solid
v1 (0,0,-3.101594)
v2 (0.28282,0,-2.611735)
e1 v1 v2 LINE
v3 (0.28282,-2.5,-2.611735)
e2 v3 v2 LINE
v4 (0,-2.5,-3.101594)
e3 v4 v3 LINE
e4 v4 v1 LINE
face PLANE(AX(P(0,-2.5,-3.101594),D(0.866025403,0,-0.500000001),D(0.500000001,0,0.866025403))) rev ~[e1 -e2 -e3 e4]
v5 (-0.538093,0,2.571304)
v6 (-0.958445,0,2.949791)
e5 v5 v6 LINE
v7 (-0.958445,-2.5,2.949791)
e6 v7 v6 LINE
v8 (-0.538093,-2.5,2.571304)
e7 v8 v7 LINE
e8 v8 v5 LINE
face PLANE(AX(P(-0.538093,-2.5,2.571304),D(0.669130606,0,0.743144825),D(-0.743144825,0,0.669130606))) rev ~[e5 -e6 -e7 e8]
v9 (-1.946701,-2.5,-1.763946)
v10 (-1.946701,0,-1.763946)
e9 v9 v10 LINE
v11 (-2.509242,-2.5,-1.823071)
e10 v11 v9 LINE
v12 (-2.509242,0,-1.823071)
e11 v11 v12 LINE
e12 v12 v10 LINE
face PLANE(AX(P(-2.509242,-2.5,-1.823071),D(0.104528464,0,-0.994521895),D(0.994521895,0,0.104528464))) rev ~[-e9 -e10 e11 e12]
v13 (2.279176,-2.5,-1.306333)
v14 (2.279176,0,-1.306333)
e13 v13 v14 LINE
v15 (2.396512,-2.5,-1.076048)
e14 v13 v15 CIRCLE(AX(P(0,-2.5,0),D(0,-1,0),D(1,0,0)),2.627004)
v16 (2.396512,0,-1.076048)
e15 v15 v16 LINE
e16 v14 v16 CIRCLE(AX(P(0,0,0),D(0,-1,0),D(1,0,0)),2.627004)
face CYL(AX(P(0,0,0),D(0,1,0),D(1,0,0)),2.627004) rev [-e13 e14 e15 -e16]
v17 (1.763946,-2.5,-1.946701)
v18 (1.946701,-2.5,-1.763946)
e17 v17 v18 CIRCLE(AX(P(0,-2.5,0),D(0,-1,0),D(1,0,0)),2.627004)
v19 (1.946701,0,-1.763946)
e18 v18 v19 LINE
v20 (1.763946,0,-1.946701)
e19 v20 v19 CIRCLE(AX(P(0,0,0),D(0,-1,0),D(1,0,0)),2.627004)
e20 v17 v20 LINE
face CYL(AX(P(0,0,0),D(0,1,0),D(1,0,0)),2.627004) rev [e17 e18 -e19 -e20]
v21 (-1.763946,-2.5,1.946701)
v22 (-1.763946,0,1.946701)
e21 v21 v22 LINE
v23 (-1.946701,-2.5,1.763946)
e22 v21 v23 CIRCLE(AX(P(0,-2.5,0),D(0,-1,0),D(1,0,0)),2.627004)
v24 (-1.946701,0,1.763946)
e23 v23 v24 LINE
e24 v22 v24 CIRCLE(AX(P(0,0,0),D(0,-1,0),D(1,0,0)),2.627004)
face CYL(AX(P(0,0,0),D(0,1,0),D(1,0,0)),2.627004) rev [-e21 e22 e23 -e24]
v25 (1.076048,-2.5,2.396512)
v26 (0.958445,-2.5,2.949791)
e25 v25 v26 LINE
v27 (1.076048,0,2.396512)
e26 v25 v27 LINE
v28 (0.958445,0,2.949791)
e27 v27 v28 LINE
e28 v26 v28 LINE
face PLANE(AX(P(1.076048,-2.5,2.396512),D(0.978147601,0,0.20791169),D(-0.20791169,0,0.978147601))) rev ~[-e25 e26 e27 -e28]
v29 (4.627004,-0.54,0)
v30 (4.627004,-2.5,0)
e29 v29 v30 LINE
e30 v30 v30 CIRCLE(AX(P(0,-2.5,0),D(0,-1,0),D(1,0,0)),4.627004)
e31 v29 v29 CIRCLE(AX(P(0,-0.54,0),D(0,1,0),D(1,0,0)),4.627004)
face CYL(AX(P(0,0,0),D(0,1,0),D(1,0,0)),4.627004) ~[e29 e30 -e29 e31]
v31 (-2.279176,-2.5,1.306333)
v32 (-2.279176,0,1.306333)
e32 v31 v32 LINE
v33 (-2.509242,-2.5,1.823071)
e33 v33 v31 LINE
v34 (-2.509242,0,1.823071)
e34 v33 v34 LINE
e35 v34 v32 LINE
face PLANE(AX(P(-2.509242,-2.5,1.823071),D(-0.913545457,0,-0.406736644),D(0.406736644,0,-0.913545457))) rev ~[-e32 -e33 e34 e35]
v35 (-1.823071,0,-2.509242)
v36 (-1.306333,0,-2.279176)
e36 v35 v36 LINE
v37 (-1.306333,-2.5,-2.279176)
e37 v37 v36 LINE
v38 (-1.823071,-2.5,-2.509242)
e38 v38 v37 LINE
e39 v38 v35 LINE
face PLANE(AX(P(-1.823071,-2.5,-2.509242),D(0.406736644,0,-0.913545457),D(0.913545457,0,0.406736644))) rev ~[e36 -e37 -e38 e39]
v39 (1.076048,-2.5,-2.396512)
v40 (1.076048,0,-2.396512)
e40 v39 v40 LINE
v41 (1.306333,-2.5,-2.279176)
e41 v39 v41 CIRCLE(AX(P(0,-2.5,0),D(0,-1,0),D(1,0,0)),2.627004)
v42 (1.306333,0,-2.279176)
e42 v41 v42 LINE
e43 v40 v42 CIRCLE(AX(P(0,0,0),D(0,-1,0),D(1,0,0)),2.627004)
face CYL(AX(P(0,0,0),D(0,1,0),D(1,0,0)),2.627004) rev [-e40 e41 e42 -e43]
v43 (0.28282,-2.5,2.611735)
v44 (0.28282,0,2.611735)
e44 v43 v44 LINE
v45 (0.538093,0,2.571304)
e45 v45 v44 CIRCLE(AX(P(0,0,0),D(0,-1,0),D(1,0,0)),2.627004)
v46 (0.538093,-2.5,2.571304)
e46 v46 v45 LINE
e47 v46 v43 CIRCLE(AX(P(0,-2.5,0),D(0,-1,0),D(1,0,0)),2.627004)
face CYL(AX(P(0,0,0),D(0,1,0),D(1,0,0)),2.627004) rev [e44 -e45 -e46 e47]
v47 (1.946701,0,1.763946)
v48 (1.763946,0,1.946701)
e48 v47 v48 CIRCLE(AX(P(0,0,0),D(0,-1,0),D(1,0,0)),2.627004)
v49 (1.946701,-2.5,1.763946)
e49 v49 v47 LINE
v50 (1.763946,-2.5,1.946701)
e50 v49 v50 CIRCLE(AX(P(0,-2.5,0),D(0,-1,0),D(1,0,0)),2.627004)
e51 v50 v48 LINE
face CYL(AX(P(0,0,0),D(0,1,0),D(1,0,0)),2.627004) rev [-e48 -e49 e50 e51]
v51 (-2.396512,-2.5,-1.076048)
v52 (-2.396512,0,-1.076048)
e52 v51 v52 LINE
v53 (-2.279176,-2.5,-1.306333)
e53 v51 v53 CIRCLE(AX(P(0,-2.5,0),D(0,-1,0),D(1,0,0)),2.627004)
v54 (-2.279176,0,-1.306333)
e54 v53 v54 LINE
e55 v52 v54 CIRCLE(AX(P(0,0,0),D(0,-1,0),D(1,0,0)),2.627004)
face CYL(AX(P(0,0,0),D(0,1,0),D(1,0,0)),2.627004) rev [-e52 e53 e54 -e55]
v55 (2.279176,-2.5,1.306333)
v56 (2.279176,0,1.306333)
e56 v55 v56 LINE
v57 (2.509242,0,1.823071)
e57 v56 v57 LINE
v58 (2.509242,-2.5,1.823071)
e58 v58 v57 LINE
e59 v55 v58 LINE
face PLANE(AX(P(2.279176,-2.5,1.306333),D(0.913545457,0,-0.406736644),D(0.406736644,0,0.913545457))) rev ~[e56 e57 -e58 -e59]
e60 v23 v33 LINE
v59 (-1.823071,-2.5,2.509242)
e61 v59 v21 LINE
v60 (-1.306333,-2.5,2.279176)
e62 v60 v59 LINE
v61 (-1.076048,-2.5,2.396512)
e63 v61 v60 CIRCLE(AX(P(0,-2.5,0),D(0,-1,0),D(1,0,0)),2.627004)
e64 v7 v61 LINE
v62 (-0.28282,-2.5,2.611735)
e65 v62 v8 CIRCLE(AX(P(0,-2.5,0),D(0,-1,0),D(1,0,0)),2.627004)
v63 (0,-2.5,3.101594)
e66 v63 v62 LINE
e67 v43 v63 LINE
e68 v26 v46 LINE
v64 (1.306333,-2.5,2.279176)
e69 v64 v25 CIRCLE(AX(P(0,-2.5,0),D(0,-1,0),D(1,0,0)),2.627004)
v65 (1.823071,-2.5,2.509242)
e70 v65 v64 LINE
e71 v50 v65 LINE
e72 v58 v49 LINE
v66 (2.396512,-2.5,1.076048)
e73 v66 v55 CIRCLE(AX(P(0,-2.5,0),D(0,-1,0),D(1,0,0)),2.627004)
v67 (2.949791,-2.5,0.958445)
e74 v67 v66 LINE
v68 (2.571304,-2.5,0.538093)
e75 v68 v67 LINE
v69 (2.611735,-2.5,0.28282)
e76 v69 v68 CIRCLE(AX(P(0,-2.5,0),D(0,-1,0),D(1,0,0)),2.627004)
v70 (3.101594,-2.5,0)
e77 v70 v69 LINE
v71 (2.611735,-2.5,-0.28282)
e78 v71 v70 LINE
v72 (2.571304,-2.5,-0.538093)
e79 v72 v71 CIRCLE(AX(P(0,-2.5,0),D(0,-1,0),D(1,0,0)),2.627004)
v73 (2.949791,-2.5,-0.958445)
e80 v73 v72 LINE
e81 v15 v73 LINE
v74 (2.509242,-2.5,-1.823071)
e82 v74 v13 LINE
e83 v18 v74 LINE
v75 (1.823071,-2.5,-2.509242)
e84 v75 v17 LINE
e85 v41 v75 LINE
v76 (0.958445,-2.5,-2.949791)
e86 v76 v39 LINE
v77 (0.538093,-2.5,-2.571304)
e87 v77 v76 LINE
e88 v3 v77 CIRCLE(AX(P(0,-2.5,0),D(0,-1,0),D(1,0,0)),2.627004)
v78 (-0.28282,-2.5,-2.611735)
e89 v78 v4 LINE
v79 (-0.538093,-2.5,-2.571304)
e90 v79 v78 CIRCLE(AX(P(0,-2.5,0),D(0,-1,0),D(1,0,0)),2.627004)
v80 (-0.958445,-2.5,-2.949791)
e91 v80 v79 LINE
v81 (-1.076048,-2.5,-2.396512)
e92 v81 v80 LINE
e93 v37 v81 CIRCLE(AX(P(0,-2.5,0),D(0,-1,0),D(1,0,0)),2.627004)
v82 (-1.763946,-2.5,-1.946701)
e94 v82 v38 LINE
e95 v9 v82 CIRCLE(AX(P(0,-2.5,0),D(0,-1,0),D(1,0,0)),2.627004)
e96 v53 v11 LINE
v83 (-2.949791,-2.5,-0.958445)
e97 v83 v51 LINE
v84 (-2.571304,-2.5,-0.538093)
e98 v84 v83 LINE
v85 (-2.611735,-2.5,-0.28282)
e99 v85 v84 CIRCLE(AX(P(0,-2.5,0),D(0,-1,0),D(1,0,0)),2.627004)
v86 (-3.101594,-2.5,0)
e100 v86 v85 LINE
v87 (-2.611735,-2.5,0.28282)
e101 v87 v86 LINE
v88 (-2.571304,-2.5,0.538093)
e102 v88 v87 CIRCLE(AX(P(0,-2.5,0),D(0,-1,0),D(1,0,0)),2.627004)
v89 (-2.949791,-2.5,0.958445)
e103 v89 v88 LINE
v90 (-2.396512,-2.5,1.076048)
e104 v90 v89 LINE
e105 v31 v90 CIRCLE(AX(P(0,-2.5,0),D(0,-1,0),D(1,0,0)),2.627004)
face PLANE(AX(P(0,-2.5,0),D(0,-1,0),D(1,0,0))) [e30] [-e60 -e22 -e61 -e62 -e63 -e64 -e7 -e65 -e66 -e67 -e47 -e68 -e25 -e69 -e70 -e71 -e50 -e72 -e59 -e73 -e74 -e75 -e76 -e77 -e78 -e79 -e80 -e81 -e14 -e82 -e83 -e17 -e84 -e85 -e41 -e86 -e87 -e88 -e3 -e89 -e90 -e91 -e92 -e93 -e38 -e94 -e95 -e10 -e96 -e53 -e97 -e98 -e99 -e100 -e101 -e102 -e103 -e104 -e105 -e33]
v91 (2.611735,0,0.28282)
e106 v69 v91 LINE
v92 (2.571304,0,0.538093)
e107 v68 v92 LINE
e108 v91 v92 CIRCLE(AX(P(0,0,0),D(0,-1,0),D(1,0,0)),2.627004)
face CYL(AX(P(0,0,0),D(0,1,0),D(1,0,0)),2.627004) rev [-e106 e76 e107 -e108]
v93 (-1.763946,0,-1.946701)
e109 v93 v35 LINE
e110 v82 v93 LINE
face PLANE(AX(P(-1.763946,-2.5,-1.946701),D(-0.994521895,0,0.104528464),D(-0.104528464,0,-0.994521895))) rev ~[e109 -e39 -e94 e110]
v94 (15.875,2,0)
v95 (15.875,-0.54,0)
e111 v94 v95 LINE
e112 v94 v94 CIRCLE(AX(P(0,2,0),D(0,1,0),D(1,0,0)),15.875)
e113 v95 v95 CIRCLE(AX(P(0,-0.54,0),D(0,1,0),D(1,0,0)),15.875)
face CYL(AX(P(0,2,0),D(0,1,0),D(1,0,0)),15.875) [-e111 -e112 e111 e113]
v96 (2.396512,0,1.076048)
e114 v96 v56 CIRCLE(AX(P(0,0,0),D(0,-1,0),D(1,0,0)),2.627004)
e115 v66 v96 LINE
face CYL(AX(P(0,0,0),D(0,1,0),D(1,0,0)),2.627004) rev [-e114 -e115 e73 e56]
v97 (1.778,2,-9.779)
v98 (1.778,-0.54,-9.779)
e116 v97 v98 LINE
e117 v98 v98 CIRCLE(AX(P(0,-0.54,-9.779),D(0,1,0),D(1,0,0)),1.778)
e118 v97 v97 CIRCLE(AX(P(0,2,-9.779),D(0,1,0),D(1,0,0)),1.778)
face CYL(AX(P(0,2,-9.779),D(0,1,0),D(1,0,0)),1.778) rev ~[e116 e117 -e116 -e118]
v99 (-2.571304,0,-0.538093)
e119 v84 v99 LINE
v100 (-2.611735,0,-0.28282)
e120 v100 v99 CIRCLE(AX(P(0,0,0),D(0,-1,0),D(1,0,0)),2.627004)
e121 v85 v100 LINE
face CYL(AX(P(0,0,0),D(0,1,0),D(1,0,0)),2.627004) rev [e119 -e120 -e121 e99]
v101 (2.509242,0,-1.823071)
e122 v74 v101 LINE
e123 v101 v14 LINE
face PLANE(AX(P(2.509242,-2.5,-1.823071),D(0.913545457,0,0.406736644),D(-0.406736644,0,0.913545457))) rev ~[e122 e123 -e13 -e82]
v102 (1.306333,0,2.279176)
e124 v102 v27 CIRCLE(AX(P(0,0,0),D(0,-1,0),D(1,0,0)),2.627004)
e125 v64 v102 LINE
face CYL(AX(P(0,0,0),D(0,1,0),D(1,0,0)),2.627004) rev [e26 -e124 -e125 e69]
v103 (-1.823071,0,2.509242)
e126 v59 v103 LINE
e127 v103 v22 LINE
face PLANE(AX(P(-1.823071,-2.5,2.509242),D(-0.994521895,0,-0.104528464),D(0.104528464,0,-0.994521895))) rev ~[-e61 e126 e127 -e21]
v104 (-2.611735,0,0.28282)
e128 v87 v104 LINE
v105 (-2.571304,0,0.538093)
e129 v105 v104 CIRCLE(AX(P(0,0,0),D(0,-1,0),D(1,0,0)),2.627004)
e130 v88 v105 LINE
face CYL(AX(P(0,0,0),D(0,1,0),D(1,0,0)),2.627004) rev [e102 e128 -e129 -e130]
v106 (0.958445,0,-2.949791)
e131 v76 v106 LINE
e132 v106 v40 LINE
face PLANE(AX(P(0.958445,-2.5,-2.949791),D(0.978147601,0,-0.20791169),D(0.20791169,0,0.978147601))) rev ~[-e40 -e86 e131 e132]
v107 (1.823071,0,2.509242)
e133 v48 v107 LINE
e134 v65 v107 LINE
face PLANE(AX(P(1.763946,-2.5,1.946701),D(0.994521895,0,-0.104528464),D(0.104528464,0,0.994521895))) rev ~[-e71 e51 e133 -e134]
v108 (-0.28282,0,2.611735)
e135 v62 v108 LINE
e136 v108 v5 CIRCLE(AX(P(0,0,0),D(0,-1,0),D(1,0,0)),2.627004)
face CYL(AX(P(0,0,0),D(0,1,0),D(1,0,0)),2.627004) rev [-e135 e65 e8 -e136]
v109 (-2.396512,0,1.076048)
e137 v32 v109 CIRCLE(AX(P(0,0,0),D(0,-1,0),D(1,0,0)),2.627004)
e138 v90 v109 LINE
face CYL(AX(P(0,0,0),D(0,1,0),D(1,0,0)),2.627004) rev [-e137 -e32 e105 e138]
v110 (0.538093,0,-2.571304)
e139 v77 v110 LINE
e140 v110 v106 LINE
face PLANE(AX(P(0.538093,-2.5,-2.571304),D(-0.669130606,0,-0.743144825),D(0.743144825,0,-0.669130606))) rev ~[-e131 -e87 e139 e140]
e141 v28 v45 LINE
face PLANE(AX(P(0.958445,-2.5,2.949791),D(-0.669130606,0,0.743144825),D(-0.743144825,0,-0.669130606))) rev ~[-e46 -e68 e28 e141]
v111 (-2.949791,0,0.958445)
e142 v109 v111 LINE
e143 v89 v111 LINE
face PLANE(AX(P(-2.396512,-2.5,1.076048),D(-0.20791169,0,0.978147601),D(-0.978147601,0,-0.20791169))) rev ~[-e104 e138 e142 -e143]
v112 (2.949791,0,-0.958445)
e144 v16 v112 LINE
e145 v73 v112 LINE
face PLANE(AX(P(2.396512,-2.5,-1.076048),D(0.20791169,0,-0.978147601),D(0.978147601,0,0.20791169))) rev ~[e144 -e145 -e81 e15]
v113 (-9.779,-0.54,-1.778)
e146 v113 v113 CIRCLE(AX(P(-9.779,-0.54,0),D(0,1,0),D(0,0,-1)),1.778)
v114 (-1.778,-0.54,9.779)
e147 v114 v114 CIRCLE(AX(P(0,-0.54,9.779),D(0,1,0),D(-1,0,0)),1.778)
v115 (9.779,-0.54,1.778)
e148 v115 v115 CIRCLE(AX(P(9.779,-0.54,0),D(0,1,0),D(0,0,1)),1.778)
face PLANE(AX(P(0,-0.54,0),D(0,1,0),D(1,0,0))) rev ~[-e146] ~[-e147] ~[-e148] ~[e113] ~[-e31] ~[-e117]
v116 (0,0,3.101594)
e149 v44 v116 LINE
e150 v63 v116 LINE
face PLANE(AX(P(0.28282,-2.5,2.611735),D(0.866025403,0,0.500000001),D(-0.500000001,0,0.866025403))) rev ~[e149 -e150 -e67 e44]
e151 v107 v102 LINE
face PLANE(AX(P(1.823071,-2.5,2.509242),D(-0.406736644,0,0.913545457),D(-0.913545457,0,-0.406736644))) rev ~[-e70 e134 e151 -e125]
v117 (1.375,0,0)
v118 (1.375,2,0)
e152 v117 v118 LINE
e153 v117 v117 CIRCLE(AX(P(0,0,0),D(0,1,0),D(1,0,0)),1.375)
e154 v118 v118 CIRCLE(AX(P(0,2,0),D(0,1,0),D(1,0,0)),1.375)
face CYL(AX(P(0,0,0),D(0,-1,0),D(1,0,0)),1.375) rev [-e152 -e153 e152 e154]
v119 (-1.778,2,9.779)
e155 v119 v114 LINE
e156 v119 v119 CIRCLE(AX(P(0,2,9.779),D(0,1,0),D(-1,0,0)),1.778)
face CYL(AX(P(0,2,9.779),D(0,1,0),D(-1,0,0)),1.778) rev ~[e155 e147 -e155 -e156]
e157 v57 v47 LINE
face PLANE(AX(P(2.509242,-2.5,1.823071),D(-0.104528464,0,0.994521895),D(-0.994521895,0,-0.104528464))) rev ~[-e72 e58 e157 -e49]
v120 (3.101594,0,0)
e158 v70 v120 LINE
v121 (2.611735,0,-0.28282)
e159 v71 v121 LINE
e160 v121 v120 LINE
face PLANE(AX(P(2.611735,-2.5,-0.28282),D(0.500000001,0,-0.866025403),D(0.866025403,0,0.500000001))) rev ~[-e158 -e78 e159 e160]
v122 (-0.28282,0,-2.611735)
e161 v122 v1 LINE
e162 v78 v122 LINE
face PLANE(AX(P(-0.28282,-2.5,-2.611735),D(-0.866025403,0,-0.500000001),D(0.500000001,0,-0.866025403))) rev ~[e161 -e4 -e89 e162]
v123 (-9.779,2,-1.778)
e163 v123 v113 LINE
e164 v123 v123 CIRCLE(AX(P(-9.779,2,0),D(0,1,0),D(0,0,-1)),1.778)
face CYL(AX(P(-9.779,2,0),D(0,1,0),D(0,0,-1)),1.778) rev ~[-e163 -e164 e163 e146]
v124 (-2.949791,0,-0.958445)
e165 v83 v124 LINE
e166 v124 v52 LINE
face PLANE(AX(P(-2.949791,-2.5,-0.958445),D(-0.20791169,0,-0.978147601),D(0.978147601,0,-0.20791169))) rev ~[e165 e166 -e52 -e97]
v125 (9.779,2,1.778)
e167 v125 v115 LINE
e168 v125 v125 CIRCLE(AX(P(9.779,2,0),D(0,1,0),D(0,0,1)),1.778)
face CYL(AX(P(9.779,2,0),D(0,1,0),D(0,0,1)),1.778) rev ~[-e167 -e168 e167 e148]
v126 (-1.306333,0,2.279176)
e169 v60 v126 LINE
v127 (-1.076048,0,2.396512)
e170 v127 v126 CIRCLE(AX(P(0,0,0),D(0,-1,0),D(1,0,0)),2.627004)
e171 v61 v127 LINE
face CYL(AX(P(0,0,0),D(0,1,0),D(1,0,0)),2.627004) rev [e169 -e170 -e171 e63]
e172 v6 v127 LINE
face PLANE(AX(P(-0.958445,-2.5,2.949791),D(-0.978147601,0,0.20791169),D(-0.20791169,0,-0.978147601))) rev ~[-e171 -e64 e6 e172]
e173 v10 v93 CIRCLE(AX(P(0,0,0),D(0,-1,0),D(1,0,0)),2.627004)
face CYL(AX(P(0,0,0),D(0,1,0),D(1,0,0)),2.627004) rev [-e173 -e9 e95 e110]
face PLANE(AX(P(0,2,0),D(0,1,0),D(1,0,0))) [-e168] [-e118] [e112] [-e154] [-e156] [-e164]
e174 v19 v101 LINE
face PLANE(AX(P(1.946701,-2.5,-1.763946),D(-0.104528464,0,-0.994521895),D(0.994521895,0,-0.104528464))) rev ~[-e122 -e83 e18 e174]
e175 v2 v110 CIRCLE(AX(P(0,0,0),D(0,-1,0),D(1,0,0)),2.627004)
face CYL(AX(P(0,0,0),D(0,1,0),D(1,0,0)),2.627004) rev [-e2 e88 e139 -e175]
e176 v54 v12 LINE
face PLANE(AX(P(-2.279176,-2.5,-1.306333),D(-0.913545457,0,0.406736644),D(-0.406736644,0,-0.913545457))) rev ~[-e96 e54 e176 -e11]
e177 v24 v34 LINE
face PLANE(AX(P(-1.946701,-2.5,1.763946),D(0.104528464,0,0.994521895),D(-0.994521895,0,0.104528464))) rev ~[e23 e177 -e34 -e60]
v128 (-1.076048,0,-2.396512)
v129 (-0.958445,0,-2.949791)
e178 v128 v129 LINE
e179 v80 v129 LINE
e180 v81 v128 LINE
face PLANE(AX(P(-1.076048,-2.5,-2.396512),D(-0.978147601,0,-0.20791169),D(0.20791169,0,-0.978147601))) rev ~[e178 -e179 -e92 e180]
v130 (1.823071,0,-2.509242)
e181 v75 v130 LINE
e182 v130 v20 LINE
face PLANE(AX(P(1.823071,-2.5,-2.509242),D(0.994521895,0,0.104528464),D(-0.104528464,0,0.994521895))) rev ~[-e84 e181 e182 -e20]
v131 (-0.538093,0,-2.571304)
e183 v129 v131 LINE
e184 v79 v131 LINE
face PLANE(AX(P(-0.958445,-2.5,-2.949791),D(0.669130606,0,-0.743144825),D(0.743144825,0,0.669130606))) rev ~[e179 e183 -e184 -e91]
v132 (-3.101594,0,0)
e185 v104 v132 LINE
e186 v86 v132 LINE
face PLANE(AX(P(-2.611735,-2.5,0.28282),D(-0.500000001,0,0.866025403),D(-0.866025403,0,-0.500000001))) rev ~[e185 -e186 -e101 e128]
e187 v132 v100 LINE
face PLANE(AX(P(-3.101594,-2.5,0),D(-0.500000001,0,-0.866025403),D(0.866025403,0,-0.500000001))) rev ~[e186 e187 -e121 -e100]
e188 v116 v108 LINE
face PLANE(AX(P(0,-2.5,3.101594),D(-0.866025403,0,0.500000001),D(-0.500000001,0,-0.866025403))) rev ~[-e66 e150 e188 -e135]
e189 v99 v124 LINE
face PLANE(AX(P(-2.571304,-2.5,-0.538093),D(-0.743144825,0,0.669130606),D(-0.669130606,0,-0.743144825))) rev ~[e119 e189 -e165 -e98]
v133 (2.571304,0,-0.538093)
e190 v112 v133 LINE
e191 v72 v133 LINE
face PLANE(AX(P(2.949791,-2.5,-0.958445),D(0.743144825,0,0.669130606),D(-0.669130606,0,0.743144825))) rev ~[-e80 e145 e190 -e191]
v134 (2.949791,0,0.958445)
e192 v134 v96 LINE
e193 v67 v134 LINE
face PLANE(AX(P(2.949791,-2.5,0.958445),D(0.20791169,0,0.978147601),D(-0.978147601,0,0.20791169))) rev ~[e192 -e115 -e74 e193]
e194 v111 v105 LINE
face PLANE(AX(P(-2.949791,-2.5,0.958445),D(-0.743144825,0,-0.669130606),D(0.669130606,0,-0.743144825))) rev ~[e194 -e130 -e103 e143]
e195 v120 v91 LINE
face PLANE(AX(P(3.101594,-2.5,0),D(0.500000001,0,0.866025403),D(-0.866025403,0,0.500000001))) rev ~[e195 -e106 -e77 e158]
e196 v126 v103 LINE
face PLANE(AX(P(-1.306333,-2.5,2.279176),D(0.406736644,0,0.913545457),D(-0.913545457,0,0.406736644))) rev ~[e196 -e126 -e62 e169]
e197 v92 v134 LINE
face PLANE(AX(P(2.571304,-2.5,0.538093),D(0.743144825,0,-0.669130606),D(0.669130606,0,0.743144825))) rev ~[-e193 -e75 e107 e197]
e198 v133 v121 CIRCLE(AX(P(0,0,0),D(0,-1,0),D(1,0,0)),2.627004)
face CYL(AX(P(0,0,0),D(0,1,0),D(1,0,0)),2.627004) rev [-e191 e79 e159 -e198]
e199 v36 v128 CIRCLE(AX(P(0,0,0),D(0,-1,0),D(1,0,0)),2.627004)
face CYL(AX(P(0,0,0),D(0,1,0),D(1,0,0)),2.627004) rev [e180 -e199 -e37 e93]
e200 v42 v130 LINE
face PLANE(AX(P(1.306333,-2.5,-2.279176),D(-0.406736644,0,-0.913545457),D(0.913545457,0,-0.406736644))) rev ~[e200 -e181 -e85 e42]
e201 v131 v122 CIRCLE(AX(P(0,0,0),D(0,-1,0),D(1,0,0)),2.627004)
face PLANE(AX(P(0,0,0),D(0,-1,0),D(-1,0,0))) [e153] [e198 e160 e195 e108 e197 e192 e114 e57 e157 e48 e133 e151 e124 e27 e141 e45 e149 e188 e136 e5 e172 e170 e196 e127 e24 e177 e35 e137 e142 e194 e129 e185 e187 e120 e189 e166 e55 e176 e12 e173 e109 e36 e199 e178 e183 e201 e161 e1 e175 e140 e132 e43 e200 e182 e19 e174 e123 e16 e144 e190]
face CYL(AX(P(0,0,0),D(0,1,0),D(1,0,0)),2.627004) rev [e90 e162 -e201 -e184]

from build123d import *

# Parameters (mm, degrees)
SKETCH1_R           = 0.5
SKETCH1_R_2         = 1.375
BOSS_EXTRUDE1_DEPTH = 2
SKETCH4_R           = 4.6270037
SKETCH4_R_2         = 2.6270037
BOSS_EXTRUDE3_DEPTH = 2.5
CUT_EXTRUDE3_DEPTH  = 2.5
SKETCH6_R           = 15.875
SKETCH6_R_2         = 3.75
BOSS_EXTRUDE6_DEPTH = 2.54
SKETCH7_R           = 1.778
CUT_EXTRUDE4_DEPTH  = 2.54
CIRPATTERN1_COUNT   = 4


with BuildPart() as part:
    # Sketch1 → Boss-Extrude1 (new body)
    with BuildSketch(Plane(origin=(0, 0, 0), x_dir=(1, 0, 0), z_dir=(0, 1, 0))):
        with BuildLine():
            Line((-4, 4), (-2.467435953, 13.402193757))
            ThreePointArc((-2.467435953, 13.402193757), (0, 15.5), (2.467435953, 13.402193757))
            Line((2.467435953, 13.402193757), (4, 4))
            Line((4, 4), (12.448472752, 2.459445505))
            ThreePointArc((12.448472752, 2.459445505), (14.5, 0), (12.448472752, -2.459445505))
            Line((12.448472752, -2.459445505), (4, -4))
            Line((4, -4), (2.467435953, -13.402193757))
            ThreePointArc((2.467435953, -13.402193757), (0, -15.5), (-2.467435953, -13.402193757))
            Line((-2.467435953, -13.402193757), (-4, -4))
            Line((-4, -4), (-12.448472752, -2.459445505))
            ThreePointArc((-12.448472752, -2.459445505), (-14.5, 0), (-12.448472752, 2.459445505))
            Line((-12.448472752, 2.459445505), (-4, 4))
        make_face()
        with Locations((0, 12)):
            Circle(SKETCH1_R, mode=Mode.SUBTRACT)
        with Locations((0, 9.5)):
            Circle(SKETCH1_R, mode=Mode.SUBTRACT)
        with Locations((0, 7.5)):
            Circle(SKETCH1_R, mode=Mode.SUBTRACT)
        with Locations((12, 0)):
            Circle(SKETCH1_R, mode=Mode.SUBTRACT)
        with Locations((9.5, 0)):
            Circle(SKETCH1_R, mode=Mode.SUBTRACT)
        with Locations((7.5, 0)):
            Circle(SKETCH1_R, mode=Mode.SUBTRACT)
        with Locations((0, -12)):
            Circle(SKETCH1_R, mode=Mode.SUBTRACT)
        with Locations((0, -9.5)):
            Circle(SKETCH1_R, mode=Mode.SUBTRACT)
        with Locations((0, -7.5)):
            Circle(SKETCH1_R, mode=Mode.SUBTRACT)
        with Locations((-12, 0)):
            Circle(SKETCH1_R, mode=Mode.SUBTRACT)
        with Locations((-9.5, 0)):
            Circle(SKETCH1_R, mode=Mode.SUBTRACT)
        with Locations((-7.5, 0)):
            Circle(SKETCH1_R, mode=Mode.SUBTRACT)
        Circle(SKETCH1_R_2, mode=Mode.SUBTRACT)
    extrude(amount=BOSS_EXTRUDE1_DEPTH)

    # Sketch4 → Boss-Extrude3 (add)
    with BuildSketch(Plane.XZ):
        Circle(SKETCH4_R)
        Circle(SKETCH4_R_2, mode=Mode.SUBTRACT)
    extrude(amount=BOSS_EXTRUDE3_DEPTH)

    # Sketch5 → Cut-Extrude3 (cut)
    with BuildSketch(Plane.XZ.offset(2.5)):
        with BuildLine():
            Line((0.282820055, 2.611735296), (0, 3.101594))
            Line((0, 3.101594), (-0.282820055, 2.611735296))
            ThreePointArc((-0.282820055, 2.611735296), (0, 2.6270037), (0.282820055, 2.611735296))
        make_face()
        with BuildLine():
            ThreePointArc((-1.076048447, 2.396511669), (-0.811788788, 2.498428987), (-0.538092735, 2.571304075))
            Line((-0.538092735, 2.571304075), (-0.958445256, 2.949791185))
            Line((-0.958445256, 2.949791185), (-1.076048447, 2.396511669))
        make_face()
        with BuildLine():
            Line((0.958445256, 2.949791185), (0.538092735, 2.571304075))
            ThreePointArc((0.538092735, 2.571304075), (0.811788788, 2.498428987), (1.076048447, 2.396511669))
            Line((1.076048447, 2.396511669), (0.958445256, 2.949791185))
        make_face()
        with BuildLine():
            ThreePointArc((-1.76394572, 1.946700782), (-1.544114033, 2.125290638), (-1.306333259, 2.279175696))
            Line((-1.306333259, 2.279175696), (-1.823071212, 2.509242256))
            Line((-1.823071212, 2.509242256), (-1.76394572, 1.946700782))
        make_face()
        with BuildLine():
            Line((1.823071212, 2.509242256), (1.306333259, 2.279175696))
            ThreePointArc((1.306333259, 2.279175696), (1.544114033, 2.125290638), (1.76394572, 1.946700782))
            Line((1.76394572, 1.946700782), (1.823071212, 2.509242256))
        make_face()
        with BuildLine():
            ThreePointArc((-2.279175696, 1.306333259), (-2.125290638, 1.544114033), (-1.946700782, 1.76394572))
            Line((-1.946700782, 1.76394572), (-2.509242256, 1.823071212))
            Line((-2.509242256, 1.823071212), (-2.279175696, 1.306333259))
        make_face()
        with BuildLine():
            Line((2.509242256, 1.823071212), (1.946700782, 1.76394572))
            ThreePointArc((1.946700782, 1.76394572), (2.125290638, 1.544114033), (2.279175696, 1.306333259))
            Line((2.279175696, 1.306333259), (2.509242256, 1.823071212))
        make_face()
        with BuildLine():
            ThreePointArc((-2.571304075, 0.538092735), (-2.498428987, 0.811788788), (-2.396511669, 1.076048447))
            Line((-2.396511669, 1.076048447), (-2.949791185, 0.958445256))
            Line((-2.949791185, 0.958445256), (-2.571304075, 0.538092735))
        make_face()
        with BuildLine():
            Line((2.949791185, 0.958445256), (2.396511669, 1.076048447))
            ThreePointArc((2.396511669, 1.076048447), (2.498428987, 0.811788788), (2.571304075, 0.538092735))
            Line((2.571304075, 0.538092735), (2.949791185, 0.958445256))
        make_face()
        with BuildLine():
            ThreePointArc((-2.611735296, -0.282820055), (-2.6270037, 0), (-2.611735296, 0.282820055))
            Line((-2.611735296, 0.282820055), (-3.101594, 0))
            Line((-3.101594, 0), (-2.611735296, -0.282820055))
        make_face()
        with BuildLine():
            Line((3.101594, 0), (2.611735296, 0.282820055))
            ThreePointArc((2.611735296, 0.282820055), (2.6270037, 0), (2.611735296, -0.282820055))
            Line((2.611735296, -0.282820055), (3.101594, 0))
        make_face()
        with BuildLine():
            ThreePointArc((-2.396511669, -1.076048447), (-2.498428987, -0.811788788), (-2.571304075, -0.538092735))
            Line((-2.571304075, -0.538092735), (-2.949791185, -0.958445256))
            Line((-2.949791185, -0.958445256), (-2.396511669, -1.076048447))
        make_face()
        with BuildLine():
            Line((2.949791185, -0.958445256), (2.571304075, -0.538092735))
            ThreePointArc((2.571304075, -0.538092735), (2.498428987, -0.811788788), (2.396511669, -1.076048447))
            Line((2.396511669, -1.076048447), (2.949791185, -0.958445256))
        make_face()
        with BuildLine():
            ThreePointArc((-1.946700782, -1.76394572), (-2.125290638, -1.544114033), (-2.279175696, -1.306333259))
            Line((-2.279175696, -1.306333259), (-2.509242256, -1.823071212))
            Line((-2.509242256, -1.823071212), (-1.946700782, -1.76394572))
        make_face()
        with BuildLine():
            Line((2.509242256, -1.823071212), (2.279175696, -1.306333259))
            ThreePointArc((2.279175696, -1.306333259), (2.125290638, -1.544114033), (1.946700782, -1.76394572))
            Line((1.946700782, -1.76394572), (2.509242256, -1.823071212))
        make_face()
        with BuildLine():
            ThreePointArc((-1.306333259, -2.279175696), (-1.544114033, -2.125290638), (-1.76394572, -1.946700782))
            Line((-1.76394572, -1.946700782), (-1.823071212, -2.509242256))
            Line((-1.823071212, -2.509242256), (-1.306333259, -2.279175696))
        make_face()
        with BuildLine():
            Line((1.823071212, -2.509242256), (1.76394572, -1.946700782))
            ThreePointArc((1.76394572, -1.946700782), (1.544114033, -2.125290638), (1.306333259, -2.279175696))
            Line((1.306333259, -2.279175696), (1.823071212, -2.509242256))
        make_face()
        with BuildLine():
            ThreePointArc((-0.538092735, -2.571304075), (-0.811788788, -2.498428987), (-1.076048447, -2.396511669))
            Line((-1.076048447, -2.396511669), (-0.958445256, -2.949791185))
            Line((-0.958445256, -2.949791185), (-0.538092735, -2.571304075))
        make_face()
        with BuildLine():
            Line((0.958445256, -2.949791185), (1.076048447, -2.396511669))
            ThreePointArc((1.076048447, -2.396511669), (0.811788788, -2.498428987), (0.538092735, -2.571304075))
            Line((0.538092735, -2.571304075), (0.958445256, -2.949791185))
        make_face()
        with BuildLine():
            ThreePointArc((0.282820055, -2.611735296), (0, -2.6270037), (-0.282820055, -2.611735296))
            Line((-0.282820055, -2.611735296), (0, -3.101594))
            Line((0, -3.101594), (0.282820055, -2.611735296))
        make_face()
    extrude(amount=-CUT_EXTRUDE3_DEPTH, mode=Mode.SUBTRACT)

    # Sketch6 → Boss-Extrude6 (add)
    with BuildSketch(Plane(origin=(0, 2, 0), x_dir=(1, 0, 0), z_dir=(0, 1, 0))):
        Circle(SKETCH6_R)
        Circle(SKETCH6_R_2, mode=Mode.SUBTRACT)
    extrude(amount=-BOSS_EXTRUDE6_DEPTH)

    # Sketch7 → Cut-Extrude4 (cut)
    with BuildSketch(Plane(origin=(0, 2, 0), x_dir=(1, 0, 0), z_dir=(0, 1, 0))):
        with Locations((0, 9.779)):
            Circle(SKETCH7_R)
    cut_extrude4 = extrude(amount=-CUT_EXTRUDE4_DEPTH, mode=Mode.SUBTRACT)

    # CirPattern1: Cut-Extrude4 ×4 about axis
    cirpattern1_axis = Axis((0, 0, 0), (0, 1, 0))
    for i in range(1, CIRPATTERN1_COUNT):
        add(cut_extrude4.rotate(cirpattern1_axis, i * 360 / CIRPATTERN1_COUNT), mode=Mode.SUBTRACT)


solid = part.part
